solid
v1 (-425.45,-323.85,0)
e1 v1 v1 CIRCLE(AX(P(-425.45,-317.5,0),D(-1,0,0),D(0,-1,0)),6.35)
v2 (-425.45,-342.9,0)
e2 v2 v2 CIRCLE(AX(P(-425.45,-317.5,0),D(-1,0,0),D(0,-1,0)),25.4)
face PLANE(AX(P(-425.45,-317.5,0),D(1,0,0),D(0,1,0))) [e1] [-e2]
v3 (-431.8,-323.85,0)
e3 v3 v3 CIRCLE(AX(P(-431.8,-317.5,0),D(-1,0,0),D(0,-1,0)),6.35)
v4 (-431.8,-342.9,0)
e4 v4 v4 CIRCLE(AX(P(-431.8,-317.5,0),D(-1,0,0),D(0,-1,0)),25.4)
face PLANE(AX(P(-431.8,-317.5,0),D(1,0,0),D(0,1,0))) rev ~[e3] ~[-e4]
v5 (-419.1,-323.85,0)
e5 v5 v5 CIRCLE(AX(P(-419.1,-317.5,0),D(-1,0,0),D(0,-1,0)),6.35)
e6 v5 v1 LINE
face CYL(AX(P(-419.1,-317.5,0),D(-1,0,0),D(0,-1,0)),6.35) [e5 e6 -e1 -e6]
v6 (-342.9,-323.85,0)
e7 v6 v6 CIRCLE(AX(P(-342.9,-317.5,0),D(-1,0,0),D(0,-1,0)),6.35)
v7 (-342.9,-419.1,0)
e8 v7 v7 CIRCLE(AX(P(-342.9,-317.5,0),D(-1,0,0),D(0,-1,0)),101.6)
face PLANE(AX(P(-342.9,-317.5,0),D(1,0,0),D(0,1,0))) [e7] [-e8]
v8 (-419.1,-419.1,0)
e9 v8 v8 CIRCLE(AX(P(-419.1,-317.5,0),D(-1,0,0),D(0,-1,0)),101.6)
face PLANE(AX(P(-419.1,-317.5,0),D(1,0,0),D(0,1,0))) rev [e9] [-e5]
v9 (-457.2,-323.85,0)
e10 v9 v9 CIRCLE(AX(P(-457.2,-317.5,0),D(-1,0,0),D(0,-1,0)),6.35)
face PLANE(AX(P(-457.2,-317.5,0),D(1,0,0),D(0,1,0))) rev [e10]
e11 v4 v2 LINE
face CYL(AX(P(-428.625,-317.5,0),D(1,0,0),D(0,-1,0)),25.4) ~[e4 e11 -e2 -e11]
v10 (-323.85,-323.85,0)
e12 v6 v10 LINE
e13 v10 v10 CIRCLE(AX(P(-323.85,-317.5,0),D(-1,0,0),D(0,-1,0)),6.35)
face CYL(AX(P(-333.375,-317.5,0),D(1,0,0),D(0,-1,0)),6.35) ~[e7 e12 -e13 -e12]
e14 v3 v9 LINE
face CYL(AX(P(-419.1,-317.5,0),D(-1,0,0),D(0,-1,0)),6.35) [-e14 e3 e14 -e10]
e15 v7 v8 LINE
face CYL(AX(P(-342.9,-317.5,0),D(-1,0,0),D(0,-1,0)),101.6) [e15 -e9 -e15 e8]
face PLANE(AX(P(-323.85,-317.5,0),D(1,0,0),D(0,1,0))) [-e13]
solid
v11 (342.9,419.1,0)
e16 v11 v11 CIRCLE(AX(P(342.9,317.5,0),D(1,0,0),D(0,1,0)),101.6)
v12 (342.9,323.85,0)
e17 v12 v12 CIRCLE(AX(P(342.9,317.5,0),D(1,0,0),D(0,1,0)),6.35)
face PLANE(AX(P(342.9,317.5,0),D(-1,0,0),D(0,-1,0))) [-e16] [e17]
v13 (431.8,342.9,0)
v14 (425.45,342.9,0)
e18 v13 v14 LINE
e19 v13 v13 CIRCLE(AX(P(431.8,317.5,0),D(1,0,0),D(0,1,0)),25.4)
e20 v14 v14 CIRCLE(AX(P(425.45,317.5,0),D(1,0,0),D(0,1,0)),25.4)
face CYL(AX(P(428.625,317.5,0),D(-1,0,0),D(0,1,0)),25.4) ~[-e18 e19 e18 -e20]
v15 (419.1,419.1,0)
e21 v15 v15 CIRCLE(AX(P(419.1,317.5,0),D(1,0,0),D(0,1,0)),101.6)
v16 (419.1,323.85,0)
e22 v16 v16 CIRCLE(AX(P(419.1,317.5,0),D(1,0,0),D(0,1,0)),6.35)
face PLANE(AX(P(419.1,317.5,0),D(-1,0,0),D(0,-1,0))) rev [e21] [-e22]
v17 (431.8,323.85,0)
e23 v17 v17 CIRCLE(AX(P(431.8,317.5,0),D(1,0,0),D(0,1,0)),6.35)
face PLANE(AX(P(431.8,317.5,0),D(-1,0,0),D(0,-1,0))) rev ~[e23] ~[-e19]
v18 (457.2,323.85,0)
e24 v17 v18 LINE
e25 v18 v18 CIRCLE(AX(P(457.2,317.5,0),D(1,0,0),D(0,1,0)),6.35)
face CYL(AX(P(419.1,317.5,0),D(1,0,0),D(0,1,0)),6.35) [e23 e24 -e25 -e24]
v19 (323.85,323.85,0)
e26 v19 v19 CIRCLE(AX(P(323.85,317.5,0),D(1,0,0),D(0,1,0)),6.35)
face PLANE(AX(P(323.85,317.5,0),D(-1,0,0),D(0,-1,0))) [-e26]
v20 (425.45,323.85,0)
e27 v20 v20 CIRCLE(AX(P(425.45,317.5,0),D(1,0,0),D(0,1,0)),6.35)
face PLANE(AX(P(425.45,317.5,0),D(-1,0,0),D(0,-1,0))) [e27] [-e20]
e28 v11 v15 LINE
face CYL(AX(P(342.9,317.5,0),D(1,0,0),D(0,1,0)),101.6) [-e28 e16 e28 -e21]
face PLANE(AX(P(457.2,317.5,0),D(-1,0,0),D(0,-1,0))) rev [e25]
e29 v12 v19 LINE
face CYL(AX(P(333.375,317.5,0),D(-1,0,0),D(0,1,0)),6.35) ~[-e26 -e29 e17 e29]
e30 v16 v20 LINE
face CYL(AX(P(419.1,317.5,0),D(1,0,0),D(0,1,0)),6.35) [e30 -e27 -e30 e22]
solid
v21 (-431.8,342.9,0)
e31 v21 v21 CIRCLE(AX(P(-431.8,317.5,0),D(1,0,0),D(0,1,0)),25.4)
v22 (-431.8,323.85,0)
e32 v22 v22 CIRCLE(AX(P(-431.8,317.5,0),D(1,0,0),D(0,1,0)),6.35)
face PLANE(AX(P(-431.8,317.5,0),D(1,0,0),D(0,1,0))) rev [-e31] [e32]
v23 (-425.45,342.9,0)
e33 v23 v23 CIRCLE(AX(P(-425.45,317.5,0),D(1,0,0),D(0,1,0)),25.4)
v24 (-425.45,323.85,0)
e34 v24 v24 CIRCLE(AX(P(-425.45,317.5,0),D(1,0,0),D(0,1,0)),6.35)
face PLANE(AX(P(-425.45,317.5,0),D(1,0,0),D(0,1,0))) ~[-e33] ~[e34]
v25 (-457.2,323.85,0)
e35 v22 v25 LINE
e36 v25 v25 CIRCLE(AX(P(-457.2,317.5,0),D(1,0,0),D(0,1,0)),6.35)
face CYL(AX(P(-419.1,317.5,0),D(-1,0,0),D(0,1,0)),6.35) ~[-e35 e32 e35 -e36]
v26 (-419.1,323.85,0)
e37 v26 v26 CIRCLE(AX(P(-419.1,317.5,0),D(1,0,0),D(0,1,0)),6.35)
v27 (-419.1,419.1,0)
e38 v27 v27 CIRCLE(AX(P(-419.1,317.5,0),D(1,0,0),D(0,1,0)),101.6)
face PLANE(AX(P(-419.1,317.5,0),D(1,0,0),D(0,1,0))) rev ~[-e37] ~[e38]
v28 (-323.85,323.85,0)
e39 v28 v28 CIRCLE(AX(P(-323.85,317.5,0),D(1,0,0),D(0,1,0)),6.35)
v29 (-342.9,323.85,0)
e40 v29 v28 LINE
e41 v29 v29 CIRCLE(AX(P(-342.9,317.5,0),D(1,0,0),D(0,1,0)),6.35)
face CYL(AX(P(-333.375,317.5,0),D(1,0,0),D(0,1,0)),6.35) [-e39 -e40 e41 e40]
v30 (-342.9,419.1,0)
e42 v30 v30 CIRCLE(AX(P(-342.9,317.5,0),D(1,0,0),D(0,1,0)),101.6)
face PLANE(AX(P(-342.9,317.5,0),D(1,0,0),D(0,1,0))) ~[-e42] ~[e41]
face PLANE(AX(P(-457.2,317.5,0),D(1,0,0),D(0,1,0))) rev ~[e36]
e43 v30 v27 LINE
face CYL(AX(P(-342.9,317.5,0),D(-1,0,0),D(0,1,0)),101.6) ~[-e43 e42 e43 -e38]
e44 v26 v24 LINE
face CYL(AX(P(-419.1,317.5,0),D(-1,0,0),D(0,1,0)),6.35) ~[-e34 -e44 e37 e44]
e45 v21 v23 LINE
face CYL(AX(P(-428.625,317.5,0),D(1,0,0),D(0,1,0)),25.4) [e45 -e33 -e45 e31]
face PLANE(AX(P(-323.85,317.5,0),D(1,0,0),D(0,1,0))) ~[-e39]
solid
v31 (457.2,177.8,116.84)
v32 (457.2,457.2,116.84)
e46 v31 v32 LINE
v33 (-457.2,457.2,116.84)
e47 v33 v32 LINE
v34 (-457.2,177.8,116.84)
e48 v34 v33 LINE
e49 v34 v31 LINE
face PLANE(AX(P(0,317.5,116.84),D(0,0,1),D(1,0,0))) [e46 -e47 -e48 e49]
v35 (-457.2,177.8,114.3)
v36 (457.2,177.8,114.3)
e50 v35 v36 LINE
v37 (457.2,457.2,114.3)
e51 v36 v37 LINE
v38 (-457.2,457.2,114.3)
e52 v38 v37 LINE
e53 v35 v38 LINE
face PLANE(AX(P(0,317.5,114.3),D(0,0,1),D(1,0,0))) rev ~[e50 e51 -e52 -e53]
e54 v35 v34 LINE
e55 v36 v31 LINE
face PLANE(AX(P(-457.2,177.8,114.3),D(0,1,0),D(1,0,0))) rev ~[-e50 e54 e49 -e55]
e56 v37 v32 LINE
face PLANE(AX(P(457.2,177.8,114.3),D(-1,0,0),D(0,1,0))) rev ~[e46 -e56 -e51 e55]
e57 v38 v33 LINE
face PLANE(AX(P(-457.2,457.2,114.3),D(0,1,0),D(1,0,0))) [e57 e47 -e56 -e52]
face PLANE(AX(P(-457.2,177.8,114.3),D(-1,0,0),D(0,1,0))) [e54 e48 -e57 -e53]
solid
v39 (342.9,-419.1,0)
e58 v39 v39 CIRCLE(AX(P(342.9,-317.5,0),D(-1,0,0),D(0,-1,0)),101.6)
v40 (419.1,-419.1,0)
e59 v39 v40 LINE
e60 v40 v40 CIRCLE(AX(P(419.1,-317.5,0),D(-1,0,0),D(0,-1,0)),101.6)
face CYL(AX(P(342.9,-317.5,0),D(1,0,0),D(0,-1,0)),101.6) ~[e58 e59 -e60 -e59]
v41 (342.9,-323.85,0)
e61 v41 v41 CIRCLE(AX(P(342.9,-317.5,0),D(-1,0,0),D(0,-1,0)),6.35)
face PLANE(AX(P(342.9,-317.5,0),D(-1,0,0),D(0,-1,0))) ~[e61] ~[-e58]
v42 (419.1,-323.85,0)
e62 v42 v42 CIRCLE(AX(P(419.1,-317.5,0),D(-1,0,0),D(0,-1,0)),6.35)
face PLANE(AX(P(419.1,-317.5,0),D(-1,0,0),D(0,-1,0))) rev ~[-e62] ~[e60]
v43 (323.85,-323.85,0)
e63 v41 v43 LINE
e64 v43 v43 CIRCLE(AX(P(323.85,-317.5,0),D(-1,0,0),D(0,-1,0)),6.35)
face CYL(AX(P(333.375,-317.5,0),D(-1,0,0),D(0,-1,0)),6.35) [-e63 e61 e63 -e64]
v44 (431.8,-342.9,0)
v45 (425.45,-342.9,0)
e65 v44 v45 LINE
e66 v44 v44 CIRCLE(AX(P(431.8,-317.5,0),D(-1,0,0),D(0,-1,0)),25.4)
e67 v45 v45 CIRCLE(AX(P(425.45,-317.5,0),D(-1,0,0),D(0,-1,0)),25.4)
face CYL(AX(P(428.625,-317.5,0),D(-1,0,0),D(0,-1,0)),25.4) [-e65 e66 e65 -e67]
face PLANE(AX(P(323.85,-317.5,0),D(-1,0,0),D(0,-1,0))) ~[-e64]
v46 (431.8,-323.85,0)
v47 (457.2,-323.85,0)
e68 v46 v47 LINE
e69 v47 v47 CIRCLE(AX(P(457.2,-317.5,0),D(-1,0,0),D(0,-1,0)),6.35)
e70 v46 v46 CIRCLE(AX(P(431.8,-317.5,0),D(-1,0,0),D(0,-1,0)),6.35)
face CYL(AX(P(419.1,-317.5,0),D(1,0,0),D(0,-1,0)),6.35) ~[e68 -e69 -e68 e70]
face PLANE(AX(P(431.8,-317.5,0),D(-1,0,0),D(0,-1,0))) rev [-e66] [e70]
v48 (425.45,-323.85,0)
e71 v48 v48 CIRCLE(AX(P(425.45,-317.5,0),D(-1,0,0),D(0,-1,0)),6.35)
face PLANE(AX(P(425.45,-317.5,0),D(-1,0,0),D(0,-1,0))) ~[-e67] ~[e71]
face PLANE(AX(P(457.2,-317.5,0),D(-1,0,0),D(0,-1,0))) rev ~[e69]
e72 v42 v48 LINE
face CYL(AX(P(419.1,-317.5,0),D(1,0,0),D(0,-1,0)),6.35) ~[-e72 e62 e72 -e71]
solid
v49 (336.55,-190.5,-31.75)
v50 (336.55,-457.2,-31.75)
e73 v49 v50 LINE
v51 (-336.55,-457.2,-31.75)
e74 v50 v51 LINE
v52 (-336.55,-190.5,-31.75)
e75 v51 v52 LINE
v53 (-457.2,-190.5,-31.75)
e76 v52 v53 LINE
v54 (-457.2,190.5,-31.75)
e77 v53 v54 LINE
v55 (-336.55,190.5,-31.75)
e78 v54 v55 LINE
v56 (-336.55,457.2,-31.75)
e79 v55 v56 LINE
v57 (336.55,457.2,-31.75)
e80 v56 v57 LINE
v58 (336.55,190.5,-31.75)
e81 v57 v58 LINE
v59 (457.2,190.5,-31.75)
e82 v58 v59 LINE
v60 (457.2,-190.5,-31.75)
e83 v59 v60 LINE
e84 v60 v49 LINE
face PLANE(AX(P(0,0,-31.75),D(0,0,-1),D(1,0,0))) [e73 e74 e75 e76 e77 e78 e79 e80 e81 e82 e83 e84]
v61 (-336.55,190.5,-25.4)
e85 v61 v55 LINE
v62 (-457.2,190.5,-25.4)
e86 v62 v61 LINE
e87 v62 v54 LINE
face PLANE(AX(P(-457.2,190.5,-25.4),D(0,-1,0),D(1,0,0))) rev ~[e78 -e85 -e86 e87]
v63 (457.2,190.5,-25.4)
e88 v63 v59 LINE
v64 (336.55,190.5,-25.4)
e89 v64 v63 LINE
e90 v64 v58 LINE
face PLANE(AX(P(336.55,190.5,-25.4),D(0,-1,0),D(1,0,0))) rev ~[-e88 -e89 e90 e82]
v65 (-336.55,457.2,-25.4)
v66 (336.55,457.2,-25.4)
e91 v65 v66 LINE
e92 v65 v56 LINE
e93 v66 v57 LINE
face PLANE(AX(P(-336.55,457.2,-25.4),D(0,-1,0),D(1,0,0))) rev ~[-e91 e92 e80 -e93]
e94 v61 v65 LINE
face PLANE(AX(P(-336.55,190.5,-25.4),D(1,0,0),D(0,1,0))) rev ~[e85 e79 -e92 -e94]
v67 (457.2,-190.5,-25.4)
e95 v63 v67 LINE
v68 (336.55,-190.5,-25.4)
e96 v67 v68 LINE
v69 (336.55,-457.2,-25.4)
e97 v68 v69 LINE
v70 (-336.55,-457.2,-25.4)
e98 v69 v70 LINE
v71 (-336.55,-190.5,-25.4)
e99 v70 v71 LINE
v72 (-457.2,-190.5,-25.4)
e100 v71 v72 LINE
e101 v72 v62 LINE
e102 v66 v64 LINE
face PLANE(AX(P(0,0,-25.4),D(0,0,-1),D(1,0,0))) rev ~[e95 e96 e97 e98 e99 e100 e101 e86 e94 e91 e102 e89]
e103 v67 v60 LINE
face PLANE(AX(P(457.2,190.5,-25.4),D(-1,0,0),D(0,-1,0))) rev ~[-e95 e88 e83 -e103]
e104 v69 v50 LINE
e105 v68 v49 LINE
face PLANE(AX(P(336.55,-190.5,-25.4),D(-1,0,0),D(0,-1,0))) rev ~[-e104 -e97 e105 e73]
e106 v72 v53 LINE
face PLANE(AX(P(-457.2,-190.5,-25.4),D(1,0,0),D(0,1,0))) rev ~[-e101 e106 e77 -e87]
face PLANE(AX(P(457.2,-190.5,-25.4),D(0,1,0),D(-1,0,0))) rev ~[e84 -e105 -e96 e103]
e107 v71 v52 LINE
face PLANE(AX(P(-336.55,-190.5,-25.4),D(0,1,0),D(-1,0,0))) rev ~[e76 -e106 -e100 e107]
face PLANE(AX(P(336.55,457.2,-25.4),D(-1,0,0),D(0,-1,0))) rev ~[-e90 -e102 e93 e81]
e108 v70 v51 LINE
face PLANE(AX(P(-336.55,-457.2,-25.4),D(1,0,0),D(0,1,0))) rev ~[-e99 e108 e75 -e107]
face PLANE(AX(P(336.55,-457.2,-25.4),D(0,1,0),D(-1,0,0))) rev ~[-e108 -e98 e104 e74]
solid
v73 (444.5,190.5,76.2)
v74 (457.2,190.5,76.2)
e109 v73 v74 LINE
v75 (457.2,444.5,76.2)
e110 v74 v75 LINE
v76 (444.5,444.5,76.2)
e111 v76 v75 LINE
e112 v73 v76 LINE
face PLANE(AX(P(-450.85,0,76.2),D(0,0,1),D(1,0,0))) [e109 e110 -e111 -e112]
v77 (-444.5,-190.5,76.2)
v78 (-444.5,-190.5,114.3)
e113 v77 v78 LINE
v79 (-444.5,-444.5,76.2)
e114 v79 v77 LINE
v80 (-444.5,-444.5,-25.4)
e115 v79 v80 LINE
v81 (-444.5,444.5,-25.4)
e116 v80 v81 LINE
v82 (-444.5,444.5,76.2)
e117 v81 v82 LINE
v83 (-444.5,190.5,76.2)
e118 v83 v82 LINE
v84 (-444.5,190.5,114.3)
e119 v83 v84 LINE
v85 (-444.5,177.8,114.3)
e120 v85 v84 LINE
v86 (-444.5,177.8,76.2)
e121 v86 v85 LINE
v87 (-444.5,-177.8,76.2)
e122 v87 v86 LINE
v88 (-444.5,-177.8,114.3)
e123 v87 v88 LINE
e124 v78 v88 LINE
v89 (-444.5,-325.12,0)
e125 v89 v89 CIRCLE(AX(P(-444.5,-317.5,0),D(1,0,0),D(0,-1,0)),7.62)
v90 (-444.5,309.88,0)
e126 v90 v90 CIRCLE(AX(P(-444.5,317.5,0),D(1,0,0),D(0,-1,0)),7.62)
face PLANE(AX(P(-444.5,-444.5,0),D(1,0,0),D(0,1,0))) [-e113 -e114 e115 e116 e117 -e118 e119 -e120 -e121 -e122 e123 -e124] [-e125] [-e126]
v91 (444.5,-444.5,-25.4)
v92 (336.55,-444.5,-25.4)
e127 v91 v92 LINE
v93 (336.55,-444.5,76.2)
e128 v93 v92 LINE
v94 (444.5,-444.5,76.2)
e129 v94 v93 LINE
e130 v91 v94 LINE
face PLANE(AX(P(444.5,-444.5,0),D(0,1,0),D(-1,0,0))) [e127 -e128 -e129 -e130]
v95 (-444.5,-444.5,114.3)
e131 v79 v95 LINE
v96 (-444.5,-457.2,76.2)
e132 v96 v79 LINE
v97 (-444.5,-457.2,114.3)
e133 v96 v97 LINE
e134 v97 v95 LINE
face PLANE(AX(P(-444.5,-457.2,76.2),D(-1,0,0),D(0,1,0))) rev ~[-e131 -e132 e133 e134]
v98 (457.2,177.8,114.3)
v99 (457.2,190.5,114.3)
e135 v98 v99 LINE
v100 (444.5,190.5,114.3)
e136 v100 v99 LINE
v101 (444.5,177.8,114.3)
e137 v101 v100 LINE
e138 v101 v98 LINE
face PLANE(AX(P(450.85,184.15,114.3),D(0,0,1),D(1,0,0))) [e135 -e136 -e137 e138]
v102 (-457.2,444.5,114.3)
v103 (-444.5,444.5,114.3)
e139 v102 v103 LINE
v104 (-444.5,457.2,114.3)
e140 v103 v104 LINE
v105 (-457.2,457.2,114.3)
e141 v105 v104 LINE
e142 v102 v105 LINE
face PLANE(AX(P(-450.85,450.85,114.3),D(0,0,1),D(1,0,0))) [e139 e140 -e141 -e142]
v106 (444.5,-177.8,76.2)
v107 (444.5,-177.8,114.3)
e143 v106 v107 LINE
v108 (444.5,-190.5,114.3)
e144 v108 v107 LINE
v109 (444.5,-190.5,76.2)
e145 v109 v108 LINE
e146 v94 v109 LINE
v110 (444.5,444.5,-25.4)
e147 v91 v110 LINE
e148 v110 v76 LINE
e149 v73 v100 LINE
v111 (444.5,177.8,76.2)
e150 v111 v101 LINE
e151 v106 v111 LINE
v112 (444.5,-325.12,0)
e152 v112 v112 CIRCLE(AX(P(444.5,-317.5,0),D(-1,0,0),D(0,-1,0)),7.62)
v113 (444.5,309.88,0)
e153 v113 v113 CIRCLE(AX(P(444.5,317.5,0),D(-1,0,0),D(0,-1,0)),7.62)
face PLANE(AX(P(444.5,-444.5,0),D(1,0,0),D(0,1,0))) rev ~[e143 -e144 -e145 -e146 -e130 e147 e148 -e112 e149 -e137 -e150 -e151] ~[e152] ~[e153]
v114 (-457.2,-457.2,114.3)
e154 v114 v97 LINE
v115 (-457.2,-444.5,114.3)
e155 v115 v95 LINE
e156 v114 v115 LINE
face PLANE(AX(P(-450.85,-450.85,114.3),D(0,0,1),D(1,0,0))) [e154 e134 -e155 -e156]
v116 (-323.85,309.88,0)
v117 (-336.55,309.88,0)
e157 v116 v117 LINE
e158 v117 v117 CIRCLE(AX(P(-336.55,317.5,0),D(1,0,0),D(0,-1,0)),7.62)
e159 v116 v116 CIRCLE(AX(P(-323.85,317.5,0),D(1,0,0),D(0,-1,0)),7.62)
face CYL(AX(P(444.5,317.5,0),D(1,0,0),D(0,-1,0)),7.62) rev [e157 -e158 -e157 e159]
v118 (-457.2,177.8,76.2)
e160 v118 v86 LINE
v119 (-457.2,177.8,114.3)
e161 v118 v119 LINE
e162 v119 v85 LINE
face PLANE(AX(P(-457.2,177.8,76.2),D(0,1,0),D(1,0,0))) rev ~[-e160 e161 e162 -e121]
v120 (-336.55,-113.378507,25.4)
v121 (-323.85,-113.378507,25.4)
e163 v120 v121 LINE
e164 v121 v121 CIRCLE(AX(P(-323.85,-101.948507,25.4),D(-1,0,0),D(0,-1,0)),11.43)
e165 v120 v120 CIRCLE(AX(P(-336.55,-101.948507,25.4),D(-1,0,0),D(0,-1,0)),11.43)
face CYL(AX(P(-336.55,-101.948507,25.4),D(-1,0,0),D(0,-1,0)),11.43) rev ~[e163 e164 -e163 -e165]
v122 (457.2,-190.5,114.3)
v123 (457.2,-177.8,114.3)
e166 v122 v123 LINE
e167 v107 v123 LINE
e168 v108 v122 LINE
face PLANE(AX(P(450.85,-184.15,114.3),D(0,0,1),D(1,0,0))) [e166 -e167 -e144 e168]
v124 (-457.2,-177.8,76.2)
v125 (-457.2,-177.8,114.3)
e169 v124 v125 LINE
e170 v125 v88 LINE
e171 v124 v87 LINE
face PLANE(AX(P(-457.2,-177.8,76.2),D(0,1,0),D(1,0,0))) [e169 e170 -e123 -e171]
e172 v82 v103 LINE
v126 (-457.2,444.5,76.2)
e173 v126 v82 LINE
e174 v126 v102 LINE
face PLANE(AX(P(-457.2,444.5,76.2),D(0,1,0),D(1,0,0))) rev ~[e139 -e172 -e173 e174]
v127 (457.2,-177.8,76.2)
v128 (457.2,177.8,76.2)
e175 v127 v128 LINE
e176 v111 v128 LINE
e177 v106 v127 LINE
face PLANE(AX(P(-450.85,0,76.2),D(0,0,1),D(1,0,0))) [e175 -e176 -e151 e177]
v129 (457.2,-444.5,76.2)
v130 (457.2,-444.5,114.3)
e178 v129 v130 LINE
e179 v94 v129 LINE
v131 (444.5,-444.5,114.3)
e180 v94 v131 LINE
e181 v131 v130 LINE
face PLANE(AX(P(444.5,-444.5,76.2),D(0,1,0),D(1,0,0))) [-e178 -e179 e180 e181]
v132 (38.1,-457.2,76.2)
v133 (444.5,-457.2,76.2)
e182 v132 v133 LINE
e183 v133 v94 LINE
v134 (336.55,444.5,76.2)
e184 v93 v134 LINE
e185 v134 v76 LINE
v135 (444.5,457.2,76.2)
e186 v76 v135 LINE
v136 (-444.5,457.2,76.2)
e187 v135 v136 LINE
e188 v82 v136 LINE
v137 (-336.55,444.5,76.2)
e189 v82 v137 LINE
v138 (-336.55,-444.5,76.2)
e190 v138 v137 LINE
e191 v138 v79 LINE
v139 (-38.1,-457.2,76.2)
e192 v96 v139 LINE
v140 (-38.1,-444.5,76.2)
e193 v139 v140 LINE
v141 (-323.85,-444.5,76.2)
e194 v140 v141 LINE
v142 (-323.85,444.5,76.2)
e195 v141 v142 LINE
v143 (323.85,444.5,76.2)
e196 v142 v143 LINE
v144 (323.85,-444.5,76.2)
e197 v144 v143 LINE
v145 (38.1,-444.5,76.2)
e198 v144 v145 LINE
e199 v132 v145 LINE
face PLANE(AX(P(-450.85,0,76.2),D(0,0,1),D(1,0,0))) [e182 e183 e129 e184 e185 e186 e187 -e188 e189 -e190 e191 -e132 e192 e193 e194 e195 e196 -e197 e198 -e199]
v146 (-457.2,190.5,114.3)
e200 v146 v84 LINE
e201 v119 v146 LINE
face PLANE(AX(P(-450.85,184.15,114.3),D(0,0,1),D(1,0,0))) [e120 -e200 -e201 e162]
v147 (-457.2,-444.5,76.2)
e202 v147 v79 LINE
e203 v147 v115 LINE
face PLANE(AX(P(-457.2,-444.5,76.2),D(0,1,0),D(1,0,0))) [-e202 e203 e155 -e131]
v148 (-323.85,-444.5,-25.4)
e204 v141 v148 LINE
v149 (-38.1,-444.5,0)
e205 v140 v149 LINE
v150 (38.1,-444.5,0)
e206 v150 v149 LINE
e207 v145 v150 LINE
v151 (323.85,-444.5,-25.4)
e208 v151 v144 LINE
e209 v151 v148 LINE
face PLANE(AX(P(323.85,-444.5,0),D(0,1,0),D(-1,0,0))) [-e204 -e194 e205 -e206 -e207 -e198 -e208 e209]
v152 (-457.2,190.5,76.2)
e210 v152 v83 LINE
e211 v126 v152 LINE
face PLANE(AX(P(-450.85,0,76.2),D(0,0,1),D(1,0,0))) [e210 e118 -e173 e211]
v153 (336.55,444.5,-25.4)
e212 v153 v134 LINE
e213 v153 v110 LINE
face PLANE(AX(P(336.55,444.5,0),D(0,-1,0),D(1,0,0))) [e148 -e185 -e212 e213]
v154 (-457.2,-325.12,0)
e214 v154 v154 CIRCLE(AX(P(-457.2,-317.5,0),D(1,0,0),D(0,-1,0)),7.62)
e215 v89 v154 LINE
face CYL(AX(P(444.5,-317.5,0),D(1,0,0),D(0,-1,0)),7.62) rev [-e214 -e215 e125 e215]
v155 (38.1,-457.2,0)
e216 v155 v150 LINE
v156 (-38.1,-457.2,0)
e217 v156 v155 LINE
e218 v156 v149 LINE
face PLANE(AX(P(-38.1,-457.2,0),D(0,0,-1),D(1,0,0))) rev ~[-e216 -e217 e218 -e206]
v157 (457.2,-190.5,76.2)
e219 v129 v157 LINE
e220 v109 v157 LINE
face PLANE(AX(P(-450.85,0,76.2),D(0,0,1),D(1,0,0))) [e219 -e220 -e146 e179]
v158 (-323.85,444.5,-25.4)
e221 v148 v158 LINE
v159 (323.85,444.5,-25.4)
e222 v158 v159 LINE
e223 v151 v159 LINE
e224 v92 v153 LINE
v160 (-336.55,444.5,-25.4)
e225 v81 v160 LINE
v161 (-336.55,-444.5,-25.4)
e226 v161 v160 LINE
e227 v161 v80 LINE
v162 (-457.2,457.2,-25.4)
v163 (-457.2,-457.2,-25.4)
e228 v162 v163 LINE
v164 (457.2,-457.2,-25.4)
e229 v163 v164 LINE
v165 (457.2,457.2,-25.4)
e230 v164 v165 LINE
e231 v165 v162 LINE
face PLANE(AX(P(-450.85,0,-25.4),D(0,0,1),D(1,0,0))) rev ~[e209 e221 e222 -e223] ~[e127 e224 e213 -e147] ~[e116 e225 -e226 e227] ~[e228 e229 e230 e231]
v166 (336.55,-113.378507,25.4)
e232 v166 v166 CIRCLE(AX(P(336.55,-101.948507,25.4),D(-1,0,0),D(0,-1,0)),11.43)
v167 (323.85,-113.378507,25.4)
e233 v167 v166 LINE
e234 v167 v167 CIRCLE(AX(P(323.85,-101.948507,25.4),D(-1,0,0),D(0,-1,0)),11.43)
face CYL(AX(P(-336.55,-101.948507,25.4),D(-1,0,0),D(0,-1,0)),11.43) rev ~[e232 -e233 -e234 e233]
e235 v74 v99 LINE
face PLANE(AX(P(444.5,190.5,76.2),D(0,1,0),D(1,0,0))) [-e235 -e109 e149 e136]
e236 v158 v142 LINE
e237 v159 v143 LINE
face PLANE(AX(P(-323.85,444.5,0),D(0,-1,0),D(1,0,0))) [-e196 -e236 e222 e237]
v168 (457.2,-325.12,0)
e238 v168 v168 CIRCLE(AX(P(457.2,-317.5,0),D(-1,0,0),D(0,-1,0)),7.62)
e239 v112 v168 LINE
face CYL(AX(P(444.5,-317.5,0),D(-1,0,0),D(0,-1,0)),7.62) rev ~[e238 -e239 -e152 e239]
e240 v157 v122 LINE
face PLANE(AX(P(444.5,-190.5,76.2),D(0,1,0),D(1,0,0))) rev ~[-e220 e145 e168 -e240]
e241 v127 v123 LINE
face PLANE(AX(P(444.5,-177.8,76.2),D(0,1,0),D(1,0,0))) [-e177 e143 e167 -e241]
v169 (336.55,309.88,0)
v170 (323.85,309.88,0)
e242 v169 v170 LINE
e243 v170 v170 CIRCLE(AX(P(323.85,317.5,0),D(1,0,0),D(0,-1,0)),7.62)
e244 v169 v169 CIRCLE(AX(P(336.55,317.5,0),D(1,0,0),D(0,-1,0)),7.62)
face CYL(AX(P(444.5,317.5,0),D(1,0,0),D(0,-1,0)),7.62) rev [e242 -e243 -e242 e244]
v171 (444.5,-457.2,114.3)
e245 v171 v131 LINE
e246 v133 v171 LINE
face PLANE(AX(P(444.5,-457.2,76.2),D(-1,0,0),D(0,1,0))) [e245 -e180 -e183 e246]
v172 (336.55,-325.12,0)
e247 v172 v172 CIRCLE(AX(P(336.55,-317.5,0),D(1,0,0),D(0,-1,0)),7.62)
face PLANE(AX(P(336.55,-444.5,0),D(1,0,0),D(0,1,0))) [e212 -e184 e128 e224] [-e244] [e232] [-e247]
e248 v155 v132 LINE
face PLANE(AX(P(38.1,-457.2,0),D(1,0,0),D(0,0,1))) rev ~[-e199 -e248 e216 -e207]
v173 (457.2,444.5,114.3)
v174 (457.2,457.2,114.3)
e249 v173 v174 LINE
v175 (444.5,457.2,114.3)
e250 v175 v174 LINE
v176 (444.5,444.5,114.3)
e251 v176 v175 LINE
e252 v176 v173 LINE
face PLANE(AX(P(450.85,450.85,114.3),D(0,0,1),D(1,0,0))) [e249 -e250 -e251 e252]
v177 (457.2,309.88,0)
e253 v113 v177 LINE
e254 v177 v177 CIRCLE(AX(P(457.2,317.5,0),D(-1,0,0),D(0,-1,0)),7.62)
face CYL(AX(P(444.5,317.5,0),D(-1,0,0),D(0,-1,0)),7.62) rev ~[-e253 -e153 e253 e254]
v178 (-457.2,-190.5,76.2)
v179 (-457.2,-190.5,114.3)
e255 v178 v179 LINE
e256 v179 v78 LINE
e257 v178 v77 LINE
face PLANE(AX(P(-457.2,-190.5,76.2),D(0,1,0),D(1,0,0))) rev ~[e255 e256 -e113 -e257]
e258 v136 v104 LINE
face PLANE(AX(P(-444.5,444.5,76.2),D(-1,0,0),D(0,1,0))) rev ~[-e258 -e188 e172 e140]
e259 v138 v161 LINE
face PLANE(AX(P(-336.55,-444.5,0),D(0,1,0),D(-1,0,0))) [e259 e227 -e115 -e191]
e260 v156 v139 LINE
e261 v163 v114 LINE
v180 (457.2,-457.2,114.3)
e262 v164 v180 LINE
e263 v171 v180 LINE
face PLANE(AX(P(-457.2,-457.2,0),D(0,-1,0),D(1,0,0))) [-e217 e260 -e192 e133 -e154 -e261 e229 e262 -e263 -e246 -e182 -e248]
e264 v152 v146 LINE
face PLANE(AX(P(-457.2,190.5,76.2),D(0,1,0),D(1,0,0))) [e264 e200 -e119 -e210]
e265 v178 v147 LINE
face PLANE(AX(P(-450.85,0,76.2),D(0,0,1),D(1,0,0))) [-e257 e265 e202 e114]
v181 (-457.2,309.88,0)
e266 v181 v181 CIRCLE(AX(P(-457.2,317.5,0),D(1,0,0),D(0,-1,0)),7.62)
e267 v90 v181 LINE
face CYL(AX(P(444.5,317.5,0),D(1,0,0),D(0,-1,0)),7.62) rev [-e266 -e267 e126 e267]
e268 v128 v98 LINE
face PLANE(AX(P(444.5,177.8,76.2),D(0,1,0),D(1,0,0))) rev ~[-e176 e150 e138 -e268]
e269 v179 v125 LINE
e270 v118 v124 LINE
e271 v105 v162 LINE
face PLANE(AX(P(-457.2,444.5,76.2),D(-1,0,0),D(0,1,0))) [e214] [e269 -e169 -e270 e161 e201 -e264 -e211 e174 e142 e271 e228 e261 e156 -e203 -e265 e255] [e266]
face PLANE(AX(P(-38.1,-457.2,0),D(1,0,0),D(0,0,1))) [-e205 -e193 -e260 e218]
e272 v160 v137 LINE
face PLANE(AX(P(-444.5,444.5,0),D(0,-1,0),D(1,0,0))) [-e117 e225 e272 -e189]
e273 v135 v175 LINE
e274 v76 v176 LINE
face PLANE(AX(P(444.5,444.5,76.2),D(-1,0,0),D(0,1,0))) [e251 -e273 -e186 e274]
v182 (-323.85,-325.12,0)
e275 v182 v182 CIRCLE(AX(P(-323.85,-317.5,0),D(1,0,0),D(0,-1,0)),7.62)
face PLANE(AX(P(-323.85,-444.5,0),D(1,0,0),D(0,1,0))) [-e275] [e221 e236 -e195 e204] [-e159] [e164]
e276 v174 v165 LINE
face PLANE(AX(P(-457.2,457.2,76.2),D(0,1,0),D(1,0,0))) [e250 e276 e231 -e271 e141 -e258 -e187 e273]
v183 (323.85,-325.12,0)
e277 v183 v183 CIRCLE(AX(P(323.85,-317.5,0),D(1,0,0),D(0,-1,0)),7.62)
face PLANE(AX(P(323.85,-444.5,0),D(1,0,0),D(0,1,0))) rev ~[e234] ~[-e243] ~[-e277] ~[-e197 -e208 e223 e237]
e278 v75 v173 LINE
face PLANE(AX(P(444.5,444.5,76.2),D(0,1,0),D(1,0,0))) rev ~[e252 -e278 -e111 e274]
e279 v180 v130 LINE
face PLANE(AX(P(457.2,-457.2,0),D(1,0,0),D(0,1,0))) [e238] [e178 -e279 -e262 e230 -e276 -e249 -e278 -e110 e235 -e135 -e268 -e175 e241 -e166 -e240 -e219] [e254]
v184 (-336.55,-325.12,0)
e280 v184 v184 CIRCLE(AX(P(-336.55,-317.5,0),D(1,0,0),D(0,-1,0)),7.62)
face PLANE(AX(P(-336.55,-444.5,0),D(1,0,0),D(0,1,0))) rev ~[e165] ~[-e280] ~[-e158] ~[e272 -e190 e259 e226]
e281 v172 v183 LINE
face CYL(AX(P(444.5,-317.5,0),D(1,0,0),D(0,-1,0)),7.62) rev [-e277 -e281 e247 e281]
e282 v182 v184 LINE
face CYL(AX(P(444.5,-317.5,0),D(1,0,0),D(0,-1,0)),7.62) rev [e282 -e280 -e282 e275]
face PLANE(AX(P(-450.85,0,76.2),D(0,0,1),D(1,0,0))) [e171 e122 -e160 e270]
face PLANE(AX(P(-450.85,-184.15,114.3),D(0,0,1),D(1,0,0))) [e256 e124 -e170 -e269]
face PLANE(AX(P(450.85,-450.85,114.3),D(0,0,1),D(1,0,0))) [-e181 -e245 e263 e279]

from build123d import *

# Parameters (mm, degrees)
F0_W          = 12.7
F0_H          = 889
F1_DEPTH      = 76.2
F1_DEPTH_BACK = 25.4
F2_R          = 7.62
F3_DEPTH      = 12.701
F3_DEPTH_BACK = 901.701
F4_W          = 19.05
F4_H          = 6.35
F4_W_2        = 6.35
F4_H_2        = 19.05
F8_W          = 12.7
F8_H          = 12.7
F9_DEPTH      = 38.1
F10_W         = 914.4
F10_H         = 279.4
F11_DEPTH     = 2.54
F13_DEPTH     = 6.35
F14_R         = 11.43
F15_DEPTH     = 762
F16_W         = 76.2
F16_H         = 76.2
F17_DEPTH     = 25.4


with BuildPart() as f1:
    # F0 (on Top) → F1 (new body, two sides)
    with BuildSketch(Plane.XY) as f1_sk:
        with Locations((-450.85, 0)):
            Rectangle(F0_W, F0_H)
        with Locations((-330.2, 0)):
            Rectangle(F0_W, F0_H)
        Polygon((-323.85, 444.5), (0, 444.5), (323.85, 444.5), (336.55, 444.5), (444.5, 444.5), (457.2, 444.5), (457.2, 457.2), (-457.2, 457.2), (-457.2, 444.5), (-444.5, 444.5), (-336.55, 444.5), align=None)
        with Locations((330.2, 0)):
            Rectangle(F0_W, F0_H)
        with Locations((450.85, 0)):
            Rectangle(F0_W, F0_H)
        Polygon((-254, -444.5), (-323.85, -444.5), (-336.55, -444.5), (-444.5, -444.5), (-457.2, -444.5), (-457.2, -457.2), (-241.3, -457.2), (-38.1, -457.2), (457.2, -457.2), (457.2, -444.5), (444.5, -444.5), (336.55, -444.5), (323.85, -444.5), (114.3, -444.5), align=None)
    extrude(amount=F1_DEPTH)
    extrude(f1_sk.sketch, amount=-F1_DEPTH_BACK)

    # F2 (on face) → F3 (cut, two sides)
    with BuildSketch(Plane(origin=(444.5, 0, 0), x_dir=(0, -1, 0), z_dir=(-1, 0, 0))) as f3_sk:
        with Locations((-317.5, 0)):
            Circle(F2_R)
        with Locations((317.5, 0)):
            Circle(F2_R)
    extrude(amount=-F3_DEPTH, mode=Mode.SUBTRACT)
    extrude(f3_sk.sketch, amount=F3_DEPTH_BACK, mode=Mode.SUBTRACT)

    # F8 (on face) → F9 (join)
    with BuildSketch(Plane.XY.offset(76.2)):
        with Locations((-450.85, 450.85)):
            Rectangle(F8_W, F8_H)
        with Locations((-450.85, 184.15)):
            Rectangle(F8_W, F8_H)
        with Locations((450.85, 450.85)):
            Rectangle(F8_W, F8_H)
        with Locations((450.85, 184.15)):
            Rectangle(F8_W, F8_H)
        with Locations((450.85, -450.85)):
            Rectangle(F8_W, F8_H)
        with Locations((-450.85, -450.85)):
            Rectangle(F8_W, F8_H)
        with Locations((450.85, -184.15)):
            Rectangle(F8_W, F8_H)
        with Locations((-450.85, -184.15)):
            Rectangle(F8_W, F8_H)
    extrude(amount=F9_DEPTH)

    # F14 (on face) → F15 (cut)
    with BuildSketch(Plane(origin=(-336.55, 0, 0), x_dir=(0, -1, 0), z_dir=(-1, 0, 0))):
        with Locations((101.9485071301, 25.4)):
            Circle(F14_R)
    extrude(amount=-F15_DEPTH, mode=Mode.SUBTRACT)

    # F16 (on face) → F17 (cut)
    with BuildSketch(Plane.XZ.offset(457.2)):
        with Locations((0, 38.1)):
            Rectangle(F16_W, F16_H)
    extrude(amount=-F17_DEPTH, mode=Mode.SUBTRACT)


with BuildPart() as f5:
    # F4 (on Top) → F5 (revolve)
    with BuildSketch(Plane.XY):
        Polygon((-342.9, 419.1), (-419.1, 419.1), (-419.1, 323.85), (-419.1, 317.5), (-342.9, 317.5), (-342.9, 323.85), align=None)
        with Locations((-333.375, 320.675)):
            Rectangle(F4_W, F4_H)
        Polygon((-419.1, 317.5), (-419.1, 323.85), (-425.45, 323.85), (-431.8, 323.85), (-457.2, 323.85), (-457.2, 317.5), align=None)
        with Locations((-428.625, 333.375)):
            Rectangle(F4_W_2, F4_H_2)
    revolve(axis=Axis((-381, 317.5, 0), (1, 0, 0)))


with BuildPart() as f6_1:
    # F6: instance of F5
    add(f5.part.mirror(Plane.YZ))


with BuildPart() as f7_1:
    # F7: instance of F5
    add(f5.part.mirror(Plane.XZ))


with BuildPart() as f7_2:
    # F7: instance of F6_1
    add(f6_1.part.mirror(Plane.XZ))


with BuildPart() as f11:
    # F10 (on face) → F11 (new body)
    with BuildSketch(Plane.XY.offset(114.3)):
        with Locations((0, 317.5)):
            Rectangle(F10_W, F10_H)
    extrude(amount=F11_DEPTH)


with BuildPart() as f13:
    # F12 (on face) → F13 (new body)
    with BuildSketch(Plane(origin=(0, 0, -25.4), x_dir=(1, 0, 0), z_dir=(0, 0, -1))):
        Polygon((-457.2, 190.5), (-457.2, 0), (-457.2, -190.5), (-336.55, -190.5), (-336.55, -457.2), (0, -457.2), (336.55, -457.2), (336.55, -190.5), (457.2, -190.5), (457.2, 0), (457.2, 190.5), (336.55, 190.5), (336.55, 457.2), (0, 457.2), (-336.55, 457.2), (-336.55, 190.5), align=None)
    extrude(amount=F13_DEPTH)


solid = Compound([f1.part, f5.part, f6_1.part, f7_1.part, f7_2.part, f11.part, f13.part])
